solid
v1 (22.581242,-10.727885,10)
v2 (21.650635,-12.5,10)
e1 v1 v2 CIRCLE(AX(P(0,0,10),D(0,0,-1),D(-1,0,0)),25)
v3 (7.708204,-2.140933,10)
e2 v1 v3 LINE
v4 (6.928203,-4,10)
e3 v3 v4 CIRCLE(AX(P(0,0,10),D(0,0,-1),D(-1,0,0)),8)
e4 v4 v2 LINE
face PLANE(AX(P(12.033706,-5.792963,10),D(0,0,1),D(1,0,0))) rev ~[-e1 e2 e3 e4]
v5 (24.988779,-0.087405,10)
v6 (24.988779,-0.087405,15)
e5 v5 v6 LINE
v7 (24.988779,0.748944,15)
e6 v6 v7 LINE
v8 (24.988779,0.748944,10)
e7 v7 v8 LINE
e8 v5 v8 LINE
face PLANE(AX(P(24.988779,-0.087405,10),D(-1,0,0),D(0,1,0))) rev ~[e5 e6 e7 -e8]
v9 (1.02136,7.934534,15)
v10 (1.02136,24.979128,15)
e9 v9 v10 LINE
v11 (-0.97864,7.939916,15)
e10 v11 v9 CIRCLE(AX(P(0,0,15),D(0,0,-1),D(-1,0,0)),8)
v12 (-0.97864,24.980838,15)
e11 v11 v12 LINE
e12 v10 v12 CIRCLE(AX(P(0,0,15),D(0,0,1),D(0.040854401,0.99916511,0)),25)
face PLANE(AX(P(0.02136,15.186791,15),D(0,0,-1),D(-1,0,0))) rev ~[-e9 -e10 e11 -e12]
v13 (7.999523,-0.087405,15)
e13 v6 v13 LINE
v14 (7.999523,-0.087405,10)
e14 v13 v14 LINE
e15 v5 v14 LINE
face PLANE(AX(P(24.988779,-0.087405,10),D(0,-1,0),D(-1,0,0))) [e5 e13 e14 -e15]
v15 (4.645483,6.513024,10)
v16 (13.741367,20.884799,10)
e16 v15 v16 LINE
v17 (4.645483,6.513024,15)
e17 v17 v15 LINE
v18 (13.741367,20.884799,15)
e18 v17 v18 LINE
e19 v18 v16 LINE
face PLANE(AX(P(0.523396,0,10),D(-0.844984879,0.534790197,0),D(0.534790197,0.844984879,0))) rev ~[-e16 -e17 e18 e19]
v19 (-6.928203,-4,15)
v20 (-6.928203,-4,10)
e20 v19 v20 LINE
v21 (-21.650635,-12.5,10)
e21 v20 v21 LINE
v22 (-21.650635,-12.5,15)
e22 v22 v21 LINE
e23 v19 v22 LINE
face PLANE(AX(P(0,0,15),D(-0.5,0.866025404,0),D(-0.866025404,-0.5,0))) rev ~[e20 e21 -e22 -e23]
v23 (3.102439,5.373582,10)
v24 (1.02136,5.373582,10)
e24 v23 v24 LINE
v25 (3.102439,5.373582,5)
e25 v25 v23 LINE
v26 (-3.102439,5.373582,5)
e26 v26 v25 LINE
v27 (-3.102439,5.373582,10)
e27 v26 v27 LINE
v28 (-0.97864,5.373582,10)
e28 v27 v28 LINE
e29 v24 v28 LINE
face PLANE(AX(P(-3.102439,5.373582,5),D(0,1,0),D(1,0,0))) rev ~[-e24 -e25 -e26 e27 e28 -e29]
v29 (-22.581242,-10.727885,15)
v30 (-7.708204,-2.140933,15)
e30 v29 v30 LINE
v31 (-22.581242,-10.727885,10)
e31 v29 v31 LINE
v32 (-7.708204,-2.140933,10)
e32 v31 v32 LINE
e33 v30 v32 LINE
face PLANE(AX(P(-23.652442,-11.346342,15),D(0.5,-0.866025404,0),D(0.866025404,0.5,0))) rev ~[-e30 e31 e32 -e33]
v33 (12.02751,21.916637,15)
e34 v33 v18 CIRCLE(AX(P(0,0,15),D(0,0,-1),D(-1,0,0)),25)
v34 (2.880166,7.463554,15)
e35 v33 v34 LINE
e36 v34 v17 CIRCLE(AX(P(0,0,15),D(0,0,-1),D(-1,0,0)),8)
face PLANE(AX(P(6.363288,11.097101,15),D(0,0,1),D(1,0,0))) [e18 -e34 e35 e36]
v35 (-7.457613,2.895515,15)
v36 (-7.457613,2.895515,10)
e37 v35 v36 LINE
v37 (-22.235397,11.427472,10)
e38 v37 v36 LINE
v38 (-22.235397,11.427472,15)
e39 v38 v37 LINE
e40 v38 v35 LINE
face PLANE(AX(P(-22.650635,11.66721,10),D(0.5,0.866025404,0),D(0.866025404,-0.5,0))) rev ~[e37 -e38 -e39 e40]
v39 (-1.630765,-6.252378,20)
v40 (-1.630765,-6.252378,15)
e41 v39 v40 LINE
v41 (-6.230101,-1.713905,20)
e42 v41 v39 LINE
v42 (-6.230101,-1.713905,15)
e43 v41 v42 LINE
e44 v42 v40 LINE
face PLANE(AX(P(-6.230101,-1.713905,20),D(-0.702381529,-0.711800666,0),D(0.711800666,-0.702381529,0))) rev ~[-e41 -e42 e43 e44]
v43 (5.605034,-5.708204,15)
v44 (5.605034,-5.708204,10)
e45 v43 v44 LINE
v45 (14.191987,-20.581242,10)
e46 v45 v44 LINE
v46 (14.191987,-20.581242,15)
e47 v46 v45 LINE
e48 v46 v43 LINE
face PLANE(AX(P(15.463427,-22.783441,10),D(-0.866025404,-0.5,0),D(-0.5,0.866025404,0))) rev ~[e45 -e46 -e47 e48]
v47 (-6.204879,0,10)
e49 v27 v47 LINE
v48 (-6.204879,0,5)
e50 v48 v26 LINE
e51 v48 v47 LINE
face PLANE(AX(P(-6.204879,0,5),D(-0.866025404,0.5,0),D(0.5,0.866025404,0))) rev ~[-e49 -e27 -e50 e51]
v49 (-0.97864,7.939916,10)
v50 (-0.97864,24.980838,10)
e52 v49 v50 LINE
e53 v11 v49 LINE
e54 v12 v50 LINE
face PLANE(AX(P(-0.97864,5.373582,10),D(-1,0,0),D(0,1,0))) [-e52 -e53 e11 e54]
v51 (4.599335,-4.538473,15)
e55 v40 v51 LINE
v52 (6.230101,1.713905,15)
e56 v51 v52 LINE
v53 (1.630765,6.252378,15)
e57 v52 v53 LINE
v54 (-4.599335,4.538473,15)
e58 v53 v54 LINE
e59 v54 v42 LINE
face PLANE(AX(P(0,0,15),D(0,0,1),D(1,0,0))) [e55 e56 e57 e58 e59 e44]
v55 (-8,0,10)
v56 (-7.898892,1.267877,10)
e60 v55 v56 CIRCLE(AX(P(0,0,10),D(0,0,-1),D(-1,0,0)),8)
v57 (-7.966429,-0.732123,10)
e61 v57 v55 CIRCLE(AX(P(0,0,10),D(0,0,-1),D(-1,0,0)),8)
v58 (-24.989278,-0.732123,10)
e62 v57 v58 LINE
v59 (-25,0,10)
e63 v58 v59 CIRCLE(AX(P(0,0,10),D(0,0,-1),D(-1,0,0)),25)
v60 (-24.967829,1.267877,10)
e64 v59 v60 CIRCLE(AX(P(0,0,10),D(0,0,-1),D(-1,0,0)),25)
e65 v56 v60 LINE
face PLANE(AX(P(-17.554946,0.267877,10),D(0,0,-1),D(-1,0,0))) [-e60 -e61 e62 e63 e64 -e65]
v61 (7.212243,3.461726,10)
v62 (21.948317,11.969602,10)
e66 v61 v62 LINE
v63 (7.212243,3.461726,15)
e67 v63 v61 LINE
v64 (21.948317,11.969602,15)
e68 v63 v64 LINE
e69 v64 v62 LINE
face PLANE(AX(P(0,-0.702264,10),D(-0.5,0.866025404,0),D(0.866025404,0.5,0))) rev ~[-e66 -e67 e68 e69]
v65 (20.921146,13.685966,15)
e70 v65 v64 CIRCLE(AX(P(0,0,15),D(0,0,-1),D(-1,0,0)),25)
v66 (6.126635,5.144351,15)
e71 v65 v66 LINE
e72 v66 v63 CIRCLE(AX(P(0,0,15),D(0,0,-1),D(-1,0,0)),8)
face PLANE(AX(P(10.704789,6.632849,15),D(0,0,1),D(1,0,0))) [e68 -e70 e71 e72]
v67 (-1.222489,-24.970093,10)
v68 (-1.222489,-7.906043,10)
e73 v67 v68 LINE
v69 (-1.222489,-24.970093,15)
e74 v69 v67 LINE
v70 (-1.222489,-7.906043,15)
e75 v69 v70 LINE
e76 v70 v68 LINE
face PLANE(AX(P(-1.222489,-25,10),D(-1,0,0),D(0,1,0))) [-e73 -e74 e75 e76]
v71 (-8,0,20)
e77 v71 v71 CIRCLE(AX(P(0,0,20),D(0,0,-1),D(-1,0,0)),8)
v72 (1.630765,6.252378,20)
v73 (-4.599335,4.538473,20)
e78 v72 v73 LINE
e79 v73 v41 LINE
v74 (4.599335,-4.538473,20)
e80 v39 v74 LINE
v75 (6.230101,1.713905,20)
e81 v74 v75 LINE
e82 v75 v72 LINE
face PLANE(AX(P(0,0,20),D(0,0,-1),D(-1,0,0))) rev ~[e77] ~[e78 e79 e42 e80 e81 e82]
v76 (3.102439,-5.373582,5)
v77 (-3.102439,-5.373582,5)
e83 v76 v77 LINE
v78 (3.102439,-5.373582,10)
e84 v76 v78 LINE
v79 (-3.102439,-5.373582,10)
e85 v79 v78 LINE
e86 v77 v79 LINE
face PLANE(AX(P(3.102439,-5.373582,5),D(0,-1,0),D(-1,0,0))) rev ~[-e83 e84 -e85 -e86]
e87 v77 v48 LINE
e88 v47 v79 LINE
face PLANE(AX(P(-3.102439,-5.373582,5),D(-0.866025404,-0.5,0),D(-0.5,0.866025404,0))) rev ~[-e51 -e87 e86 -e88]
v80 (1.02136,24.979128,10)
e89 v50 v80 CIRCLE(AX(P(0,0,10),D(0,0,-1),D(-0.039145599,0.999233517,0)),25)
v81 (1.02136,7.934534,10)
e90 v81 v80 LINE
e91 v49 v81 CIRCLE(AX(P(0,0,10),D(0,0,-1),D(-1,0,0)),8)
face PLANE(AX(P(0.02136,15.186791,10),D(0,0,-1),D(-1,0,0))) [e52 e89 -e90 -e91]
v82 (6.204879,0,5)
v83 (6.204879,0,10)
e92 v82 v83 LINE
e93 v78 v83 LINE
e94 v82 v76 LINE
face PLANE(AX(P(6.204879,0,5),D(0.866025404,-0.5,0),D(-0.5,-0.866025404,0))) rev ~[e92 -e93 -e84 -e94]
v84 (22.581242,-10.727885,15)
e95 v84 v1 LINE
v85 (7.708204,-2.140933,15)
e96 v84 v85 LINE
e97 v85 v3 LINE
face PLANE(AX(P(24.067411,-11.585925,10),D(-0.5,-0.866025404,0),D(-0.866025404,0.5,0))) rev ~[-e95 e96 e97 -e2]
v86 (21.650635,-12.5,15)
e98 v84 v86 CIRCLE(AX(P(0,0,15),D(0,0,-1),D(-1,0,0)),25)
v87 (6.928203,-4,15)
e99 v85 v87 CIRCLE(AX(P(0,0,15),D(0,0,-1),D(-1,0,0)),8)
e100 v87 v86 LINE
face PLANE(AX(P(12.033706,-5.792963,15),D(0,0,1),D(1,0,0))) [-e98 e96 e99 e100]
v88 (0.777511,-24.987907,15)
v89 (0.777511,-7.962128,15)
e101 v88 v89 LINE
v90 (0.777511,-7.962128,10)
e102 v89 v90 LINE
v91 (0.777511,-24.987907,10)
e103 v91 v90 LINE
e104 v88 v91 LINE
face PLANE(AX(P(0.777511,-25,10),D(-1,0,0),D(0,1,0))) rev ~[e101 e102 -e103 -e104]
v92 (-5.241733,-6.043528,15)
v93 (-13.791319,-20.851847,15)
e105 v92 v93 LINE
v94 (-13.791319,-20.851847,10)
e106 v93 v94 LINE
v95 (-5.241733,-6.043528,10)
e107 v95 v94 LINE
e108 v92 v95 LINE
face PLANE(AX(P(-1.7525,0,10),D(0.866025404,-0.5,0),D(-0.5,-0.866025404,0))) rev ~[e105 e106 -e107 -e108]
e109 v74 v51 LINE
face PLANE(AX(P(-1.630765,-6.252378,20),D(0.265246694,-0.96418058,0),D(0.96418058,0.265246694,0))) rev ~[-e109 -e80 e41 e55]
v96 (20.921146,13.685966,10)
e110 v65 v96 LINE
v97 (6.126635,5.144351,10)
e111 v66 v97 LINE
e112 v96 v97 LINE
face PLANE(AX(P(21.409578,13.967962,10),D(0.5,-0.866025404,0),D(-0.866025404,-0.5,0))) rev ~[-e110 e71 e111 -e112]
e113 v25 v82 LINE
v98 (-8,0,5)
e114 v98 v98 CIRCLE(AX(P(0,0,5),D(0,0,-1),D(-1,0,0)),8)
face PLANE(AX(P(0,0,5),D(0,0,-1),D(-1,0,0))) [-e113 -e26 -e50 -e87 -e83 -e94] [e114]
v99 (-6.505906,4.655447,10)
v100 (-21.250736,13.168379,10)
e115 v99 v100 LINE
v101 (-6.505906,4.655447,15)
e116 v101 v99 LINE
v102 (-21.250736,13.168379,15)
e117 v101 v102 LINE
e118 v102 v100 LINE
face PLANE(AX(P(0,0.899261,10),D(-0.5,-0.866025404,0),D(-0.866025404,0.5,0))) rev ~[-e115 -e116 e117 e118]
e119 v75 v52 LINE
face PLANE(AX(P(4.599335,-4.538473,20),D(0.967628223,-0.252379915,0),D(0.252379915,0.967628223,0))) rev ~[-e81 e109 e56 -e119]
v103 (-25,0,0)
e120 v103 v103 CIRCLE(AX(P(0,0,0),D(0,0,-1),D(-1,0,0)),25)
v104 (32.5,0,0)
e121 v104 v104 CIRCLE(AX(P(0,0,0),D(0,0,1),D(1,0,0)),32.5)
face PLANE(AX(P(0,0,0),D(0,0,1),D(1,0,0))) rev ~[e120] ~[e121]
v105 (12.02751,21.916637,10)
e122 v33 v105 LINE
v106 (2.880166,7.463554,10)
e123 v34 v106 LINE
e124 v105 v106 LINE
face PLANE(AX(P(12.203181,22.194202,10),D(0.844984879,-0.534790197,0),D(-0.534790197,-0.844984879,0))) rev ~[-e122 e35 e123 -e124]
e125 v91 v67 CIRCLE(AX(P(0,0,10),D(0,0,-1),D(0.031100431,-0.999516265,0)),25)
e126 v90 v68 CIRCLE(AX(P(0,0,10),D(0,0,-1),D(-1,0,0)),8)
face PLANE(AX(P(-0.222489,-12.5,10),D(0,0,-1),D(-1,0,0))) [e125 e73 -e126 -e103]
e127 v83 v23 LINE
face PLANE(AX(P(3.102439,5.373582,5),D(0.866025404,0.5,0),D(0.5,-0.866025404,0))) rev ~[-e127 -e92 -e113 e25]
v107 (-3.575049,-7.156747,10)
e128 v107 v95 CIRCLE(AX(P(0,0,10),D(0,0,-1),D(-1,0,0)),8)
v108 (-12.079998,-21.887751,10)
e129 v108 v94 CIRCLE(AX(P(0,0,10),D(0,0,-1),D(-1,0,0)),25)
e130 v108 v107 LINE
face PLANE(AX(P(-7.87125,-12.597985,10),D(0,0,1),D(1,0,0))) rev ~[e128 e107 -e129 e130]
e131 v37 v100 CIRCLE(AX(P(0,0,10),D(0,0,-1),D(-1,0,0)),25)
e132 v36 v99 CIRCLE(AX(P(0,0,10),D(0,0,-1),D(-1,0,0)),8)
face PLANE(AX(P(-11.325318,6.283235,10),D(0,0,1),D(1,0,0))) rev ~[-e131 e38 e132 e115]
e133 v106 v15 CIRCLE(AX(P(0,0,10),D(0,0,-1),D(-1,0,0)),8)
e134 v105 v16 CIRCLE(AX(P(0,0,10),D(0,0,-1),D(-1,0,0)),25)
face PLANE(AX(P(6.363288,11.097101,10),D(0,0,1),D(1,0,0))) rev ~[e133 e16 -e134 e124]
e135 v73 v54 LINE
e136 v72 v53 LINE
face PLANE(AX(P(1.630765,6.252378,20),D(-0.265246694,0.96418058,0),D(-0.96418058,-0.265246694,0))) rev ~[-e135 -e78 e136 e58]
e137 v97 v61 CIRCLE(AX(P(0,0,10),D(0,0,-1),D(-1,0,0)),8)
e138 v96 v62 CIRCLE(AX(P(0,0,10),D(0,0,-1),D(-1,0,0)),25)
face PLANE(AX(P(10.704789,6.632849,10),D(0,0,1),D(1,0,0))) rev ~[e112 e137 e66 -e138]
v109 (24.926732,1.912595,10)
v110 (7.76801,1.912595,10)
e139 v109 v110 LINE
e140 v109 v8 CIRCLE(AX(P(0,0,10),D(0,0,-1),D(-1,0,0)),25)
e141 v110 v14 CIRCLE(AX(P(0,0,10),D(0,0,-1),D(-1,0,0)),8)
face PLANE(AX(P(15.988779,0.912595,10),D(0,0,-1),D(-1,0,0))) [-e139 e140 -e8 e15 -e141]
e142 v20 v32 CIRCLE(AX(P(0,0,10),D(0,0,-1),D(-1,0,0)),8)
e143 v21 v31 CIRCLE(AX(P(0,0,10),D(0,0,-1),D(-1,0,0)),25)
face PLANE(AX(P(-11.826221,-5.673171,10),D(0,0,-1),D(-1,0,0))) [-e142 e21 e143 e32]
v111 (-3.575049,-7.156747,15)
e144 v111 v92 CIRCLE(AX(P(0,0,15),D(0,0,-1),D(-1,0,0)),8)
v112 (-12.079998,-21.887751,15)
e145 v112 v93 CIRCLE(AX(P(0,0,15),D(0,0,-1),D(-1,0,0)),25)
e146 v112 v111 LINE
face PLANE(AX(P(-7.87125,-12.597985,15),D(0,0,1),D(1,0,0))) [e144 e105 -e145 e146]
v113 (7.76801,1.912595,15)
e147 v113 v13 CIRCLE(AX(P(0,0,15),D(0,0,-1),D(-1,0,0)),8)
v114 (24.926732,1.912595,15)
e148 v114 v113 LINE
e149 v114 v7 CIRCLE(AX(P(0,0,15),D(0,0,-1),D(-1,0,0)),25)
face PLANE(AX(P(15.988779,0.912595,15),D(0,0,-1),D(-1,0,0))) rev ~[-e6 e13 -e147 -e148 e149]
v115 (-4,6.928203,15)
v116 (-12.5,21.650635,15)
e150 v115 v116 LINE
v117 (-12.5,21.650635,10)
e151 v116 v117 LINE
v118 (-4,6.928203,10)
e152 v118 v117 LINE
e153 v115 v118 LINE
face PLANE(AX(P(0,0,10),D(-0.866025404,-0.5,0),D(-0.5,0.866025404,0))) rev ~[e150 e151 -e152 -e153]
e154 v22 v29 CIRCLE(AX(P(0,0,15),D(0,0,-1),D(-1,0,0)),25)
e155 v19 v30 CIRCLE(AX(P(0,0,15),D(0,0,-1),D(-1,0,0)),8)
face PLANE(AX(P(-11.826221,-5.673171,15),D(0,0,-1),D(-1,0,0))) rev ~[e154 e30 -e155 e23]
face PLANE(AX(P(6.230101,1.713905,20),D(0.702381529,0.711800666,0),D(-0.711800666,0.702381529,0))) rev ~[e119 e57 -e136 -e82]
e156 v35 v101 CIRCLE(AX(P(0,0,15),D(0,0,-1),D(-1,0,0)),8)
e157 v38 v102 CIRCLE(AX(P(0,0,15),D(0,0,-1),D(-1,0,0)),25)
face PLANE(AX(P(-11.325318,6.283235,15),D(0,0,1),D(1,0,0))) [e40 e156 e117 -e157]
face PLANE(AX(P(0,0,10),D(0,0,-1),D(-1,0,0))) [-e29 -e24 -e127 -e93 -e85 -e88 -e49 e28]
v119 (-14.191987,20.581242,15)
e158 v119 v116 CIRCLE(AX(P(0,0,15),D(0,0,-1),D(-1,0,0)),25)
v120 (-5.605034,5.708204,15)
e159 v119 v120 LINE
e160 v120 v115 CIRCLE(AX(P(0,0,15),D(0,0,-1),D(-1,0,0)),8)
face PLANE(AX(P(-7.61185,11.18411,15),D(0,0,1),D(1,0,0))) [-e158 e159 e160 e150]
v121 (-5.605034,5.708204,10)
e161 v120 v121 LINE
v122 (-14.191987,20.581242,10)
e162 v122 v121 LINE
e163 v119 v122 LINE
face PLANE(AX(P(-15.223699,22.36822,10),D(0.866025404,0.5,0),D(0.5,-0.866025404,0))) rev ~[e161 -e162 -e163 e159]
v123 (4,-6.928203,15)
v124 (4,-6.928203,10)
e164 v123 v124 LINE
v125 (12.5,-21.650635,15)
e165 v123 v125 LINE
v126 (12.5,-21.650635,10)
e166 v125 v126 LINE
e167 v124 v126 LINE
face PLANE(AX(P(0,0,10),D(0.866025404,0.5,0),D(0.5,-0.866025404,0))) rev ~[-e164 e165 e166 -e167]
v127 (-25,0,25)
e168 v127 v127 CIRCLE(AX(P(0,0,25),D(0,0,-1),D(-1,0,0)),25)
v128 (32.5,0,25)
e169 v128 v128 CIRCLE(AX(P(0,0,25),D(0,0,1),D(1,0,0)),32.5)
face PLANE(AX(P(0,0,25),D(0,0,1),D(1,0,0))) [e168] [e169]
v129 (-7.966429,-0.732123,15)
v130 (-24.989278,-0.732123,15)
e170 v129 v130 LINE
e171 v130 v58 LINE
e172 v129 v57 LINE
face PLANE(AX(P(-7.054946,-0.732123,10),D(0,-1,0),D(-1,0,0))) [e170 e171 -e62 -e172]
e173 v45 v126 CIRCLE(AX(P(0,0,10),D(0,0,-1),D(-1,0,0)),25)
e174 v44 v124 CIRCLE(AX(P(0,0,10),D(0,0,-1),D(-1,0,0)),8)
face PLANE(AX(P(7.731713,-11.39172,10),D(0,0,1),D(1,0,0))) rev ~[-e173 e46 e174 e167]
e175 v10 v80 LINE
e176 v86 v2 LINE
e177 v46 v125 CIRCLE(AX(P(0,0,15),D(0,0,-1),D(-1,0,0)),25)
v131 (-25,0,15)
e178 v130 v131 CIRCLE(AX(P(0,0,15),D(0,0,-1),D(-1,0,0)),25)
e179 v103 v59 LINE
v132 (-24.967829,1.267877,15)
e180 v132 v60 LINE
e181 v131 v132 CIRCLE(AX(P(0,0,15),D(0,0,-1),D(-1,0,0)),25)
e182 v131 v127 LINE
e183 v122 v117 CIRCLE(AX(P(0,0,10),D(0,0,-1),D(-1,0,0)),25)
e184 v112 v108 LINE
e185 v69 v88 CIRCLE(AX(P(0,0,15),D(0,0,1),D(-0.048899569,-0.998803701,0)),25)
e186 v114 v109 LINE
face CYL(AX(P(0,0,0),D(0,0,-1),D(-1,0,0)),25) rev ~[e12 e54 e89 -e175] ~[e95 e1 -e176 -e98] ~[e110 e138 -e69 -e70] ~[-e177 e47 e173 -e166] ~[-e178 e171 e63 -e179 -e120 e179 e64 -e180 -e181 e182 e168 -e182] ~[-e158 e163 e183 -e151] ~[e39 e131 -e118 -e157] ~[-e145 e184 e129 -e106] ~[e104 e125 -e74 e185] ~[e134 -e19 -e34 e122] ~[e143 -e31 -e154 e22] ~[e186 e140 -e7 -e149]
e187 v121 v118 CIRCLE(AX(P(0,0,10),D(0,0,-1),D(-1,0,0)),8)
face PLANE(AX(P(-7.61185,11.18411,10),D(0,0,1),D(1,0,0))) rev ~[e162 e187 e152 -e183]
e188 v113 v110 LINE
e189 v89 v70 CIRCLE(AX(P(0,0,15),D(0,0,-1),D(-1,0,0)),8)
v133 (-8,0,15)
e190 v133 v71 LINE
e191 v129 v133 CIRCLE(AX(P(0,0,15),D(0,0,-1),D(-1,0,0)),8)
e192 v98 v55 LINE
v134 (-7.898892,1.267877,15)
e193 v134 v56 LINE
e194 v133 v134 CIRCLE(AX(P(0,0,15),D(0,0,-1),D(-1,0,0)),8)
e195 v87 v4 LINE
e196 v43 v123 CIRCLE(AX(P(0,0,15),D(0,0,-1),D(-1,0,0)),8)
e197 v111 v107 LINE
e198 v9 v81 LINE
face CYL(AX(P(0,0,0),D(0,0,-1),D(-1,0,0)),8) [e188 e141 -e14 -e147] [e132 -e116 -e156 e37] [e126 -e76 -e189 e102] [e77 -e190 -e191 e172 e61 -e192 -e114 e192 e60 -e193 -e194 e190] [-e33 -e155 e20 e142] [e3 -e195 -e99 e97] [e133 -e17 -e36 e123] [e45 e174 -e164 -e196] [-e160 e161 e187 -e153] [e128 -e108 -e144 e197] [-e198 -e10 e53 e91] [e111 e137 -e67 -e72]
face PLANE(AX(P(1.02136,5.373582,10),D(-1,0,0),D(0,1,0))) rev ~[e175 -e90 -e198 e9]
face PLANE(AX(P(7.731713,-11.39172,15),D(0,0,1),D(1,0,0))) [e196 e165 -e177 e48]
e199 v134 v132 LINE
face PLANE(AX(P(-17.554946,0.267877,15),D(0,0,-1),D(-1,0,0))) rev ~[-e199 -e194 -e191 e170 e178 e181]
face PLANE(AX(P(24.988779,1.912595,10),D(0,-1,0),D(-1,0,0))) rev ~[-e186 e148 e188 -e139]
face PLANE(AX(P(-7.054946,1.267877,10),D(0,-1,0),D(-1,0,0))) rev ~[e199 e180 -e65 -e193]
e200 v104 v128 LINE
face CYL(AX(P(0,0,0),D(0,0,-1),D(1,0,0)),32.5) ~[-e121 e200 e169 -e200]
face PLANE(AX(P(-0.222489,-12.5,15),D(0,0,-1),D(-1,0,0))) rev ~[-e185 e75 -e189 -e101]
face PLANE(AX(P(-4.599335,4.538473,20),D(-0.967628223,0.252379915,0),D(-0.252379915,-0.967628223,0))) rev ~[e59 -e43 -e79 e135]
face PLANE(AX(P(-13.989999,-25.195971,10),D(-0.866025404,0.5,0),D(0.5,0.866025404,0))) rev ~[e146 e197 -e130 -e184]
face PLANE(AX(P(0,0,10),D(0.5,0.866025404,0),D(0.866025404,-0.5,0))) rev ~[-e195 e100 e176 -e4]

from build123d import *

# Parameters (mm, degrees)
SKETCH_1_R          = 32.5
EXTRUDE_1_DEPTH     = 25
SKETCH_2_R          = 25
CUT_EXTRUDE_1_DEPTH = 25
SKETCH_6_R          = 8
EXTRUDE_3_DEPTH     = 20
SKETCH_7_R          = 8
CUT_EXTRUDE_2_DEPTH = 5
CUT_EXTRUDE_3_DEPTH = 5
CUT_EXTRUDE_4_DEPTH = 5
SKETCH_11_W         = 21
SKETCH_11_H         = 2
EXTRUDE_1_2_DEPTH   = 5
SKETCH_15_W         = 18
SKETCH_15_H         = 2
EXTRUDE_8_DEPTH     = 5
SKETCH_17_W         = 2
SKETCH_17_H         = 19.626417589
EXTRUDE_9_DEPTH     = 5
SKETCH_19_W         = 2
SKETCH_19_H         = 25
EXTRUDE_10_DEPTH    = 5
EXTRUDE_12_DEPTH    = 5
EXTRUDE_13_DEPTH    = 5
EXTRUDE_16_DEPTH    = 5
EXTRUDE_18_DEPTH    = 5
EXTRUDE_20_DEPTH    = 5
EXTRUDE_21_DEPTH    = 5
EXTRUDE_22_DEPTH    = 5
EXTRUDE_23_DEPTH    = 5


with BuildPart() as part:
    # 草图1 → Extrude 1 (new body)
    with BuildSketch(Plane.XY):
        Circle(SKETCH_1_R)
    extrude(amount=EXTRUDE_1_DEPTH)

    # 草图2 → 切除-拉伸1 (cut)
    with BuildSketch(Plane(origin=(0, 0, 0), x_dir=(-1, 0, 0), z_dir=(0, 0, -1))):
        Circle(SKETCH_2_R)
    extrude(amount=-CUT_EXTRUDE_1_DEPTH, mode=Mode.SUBTRACT)



with BuildPart() as body_2:
    # 草图6 → 凸台-拉伸3 (new body)
    with BuildSketch(Plane(origin=(0, 0, 0), x_dir=(-1, 0, 0), z_dir=(0, 0, -1))):
        Circle(SKETCH_6_R)
    extrude(amount=-EXTRUDE_3_DEPTH)

    # 草图7 → 切除-拉伸2 (cut)
    with BuildSketch(Plane(origin=(0, 0, 0), x_dir=(-1, 0, 0), z_dir=(0, 0, -1))):
        Circle(SKETCH_7_R)
    extrude(amount=-CUT_EXTRUDE_2_DEPTH, mode=Mode.SUBTRACT)

    # 草图8 → 切除-拉伸3 (cut)
    with BuildSketch(Plane(origin=(0, 0, 5), x_dir=(-1, 0, 0), z_dir=(0, 0, -1))):
        Polygon((6.204878503, 0), (3.102439251, 5.373582411), (-3.102439251, 5.373582411), (-6.204878503, 0), (-3.102439251, -5.373582411), (3.102439251, -5.373582411), align=None)
    extrude(amount=-CUT_EXTRUDE_3_DEPTH, mode=Mode.SUBTRACT)

    # 草图9 → 切除-拉伸4 (cut)
    with BuildSketch(Plane.XY.offset(20)):
        Polygon((-1.630765345, -6.252377794), (4.599335331, -4.538473114), (6.230100676, 1.713904681), (1.630765345, 6.252377794), (-4.599335331, 4.538473114), (-6.230100676, -1.713904681), align=None)
    extrude(amount=-CUT_EXTRUDE_4_DEPTH, mode=Mode.SUBTRACT)


with BuildPart() as part_1:
    add(part.part)

    add(body_2.part)  # Extrude 1 2 merges body 2
    # 草图11 → Extrude 1 2 (add)
    with BuildSketch(Plane(origin=(0, -0.732123309, 10), x_dir=(-1, 0, 0), z_dir=(0, 0, -1))):
        with Locations((17.554946424, 1)):
            Rectangle(SKETCH_11_W, SKETCH_11_H)
    extrude(amount=-EXTRUDE_1_2_DEPTH)

    # 草图15 → 拉伸-薄壁8 (add)
    with BuildSketch(Plane(origin=(0.783900643, -0.087404702, 10), x_dir=(-1, 0, 0), z_dir=(0, 0, -1))):
        with Locations((-15.204878503, 1)):
            Rectangle(SKETCH_15_W, SKETCH_15_H)
    extrude(amount=-EXTRUDE_8_DEPTH)

    # 草图17 → 拉伸-薄壁9 (add)
    with BuildSketch(Plane(origin=(1.021360023, 0, 10), x_dir=(-1, 0, 0), z_dir=(0, 0, -1))):
        with Locations((1, 15.186791206)):
            Rectangle(SKETCH_17_W, SKETCH_17_H)
    extrude(amount=-EXTRUDE_9_DEPTH)

    # 草图19 → 拉伸-薄壁10 (add)
    with BuildSketch(Plane(origin=(0, 0, 10), x_dir=(-1, 0, 0), z_dir=(0, 0, -1))):
        with Locations((0.222489214, -12.5)):
            Rectangle(SKETCH_19_W, SKETCH_19_H)
    extrude(amount=-EXTRUDE_10_DEPTH)

    # 草图22 → 拉伸-薄壁12 (add)
    with BuildSketch(Plane(origin=(0.523395748, 0, 10), x_dir=(-1, 0, 0), z_dir=(0, 0, -1))):
        Polygon((0, 0), (-13.36975493, 21.124621964), (-11.679785173, 22.194202358), (1.689969757, 1.069580394), align=None)
    extrude(amount=-EXTRUDE_12_DEPTH)

    # 草图23 → 拉伸-薄壁13 (add)
    with BuildSketch(Plane(origin=(0, -0.702264438, 10), x_dir=(-1, 0, 0), z_dir=(0, 0, -1))):
        Polygon((0, 0), (-22.409578035, 12.938175911), (-21.409578035, 14.670226719), (1, 1.732050808), align=None)
    extrude(amount=-EXTRUDE_13_DEPTH)

    # 草图25 → 拉伸-薄壁16 (add)
    with BuildSketch(Plane(origin=(0, 0.899260589, 10), x_dir=(-1, 0, 0), z_dir=(0, 0, -1))):
        Polygon((0, 0), (21.650635095, 12.5), (22.650635095, 10.767949192), (1, -1.732050808), align=None)
    extrude(amount=-EXTRUDE_16_DEPTH)

    # 草图26 → 拉伸-薄壁18 (add)
    with BuildSketch(Plane(origin=(0, 0, 10), x_dir=(-1, 0, 0), z_dir=(0, 0, -1))):
        Polygon((0, 0), (13.491648386, 23.368220483), (15.223699194, 22.368220483), (1.732050808, -1), align=None)
    extrude(amount=-EXTRUDE_18_DEPTH)

    # 草图27 → 拉伸-薄壁20 (add)
    with BuildSketch(Plane(origin=(0, 0, 10), x_dir=(-1, 0, 0), z_dir=(0, 0, -1))):
        Polygon((0, 0), (-23.067411296, -13.317976121), (-24.067411296, -11.585925314), (-1, 1.732050808), align=None)
    extrude(amount=-EXTRUDE_20_DEPTH)

    # 草图28 → 拉伸-薄壁21 (add)
    with BuildSketch(Plane(origin=(0, 0, 10), x_dir=(-1, 0, 0), z_dir=(0, 0, -1))):
        Polygon((0, 0), (-13.731376059, -23.783440992), (-15.463426867, -22.783440992), (-1.732050808, 1), align=None)
    extrude(amount=-EXTRUDE_21_DEPTH)

    # 草图29 → 拉伸-薄壁22 (add)
    with BuildSketch(Plane(origin=(-1.752500167, 0, 10), x_dir=(-1, 0, 0), z_dir=(0, 0, -1))):
        Polygon((0, 0), (13.9695501, -24.195970532), (12.237499292, -25.195970532), (-1.732050808, -1), align=None)
    extrude(amount=-EXTRUDE_22_DEPTH)

    # 草图30 → 拉伸-薄壁23 (add)
    with BuildSketch(Plane.XY.offset(15)):
        Polygon((0, 0), (-22.652441565, -13.078393235), (-23.652441565, -11.346342428), (-1, 1.732050808), align=None)
    extrude(amount=-EXTRUDE_23_DEPTH)


solid = part_1.part
